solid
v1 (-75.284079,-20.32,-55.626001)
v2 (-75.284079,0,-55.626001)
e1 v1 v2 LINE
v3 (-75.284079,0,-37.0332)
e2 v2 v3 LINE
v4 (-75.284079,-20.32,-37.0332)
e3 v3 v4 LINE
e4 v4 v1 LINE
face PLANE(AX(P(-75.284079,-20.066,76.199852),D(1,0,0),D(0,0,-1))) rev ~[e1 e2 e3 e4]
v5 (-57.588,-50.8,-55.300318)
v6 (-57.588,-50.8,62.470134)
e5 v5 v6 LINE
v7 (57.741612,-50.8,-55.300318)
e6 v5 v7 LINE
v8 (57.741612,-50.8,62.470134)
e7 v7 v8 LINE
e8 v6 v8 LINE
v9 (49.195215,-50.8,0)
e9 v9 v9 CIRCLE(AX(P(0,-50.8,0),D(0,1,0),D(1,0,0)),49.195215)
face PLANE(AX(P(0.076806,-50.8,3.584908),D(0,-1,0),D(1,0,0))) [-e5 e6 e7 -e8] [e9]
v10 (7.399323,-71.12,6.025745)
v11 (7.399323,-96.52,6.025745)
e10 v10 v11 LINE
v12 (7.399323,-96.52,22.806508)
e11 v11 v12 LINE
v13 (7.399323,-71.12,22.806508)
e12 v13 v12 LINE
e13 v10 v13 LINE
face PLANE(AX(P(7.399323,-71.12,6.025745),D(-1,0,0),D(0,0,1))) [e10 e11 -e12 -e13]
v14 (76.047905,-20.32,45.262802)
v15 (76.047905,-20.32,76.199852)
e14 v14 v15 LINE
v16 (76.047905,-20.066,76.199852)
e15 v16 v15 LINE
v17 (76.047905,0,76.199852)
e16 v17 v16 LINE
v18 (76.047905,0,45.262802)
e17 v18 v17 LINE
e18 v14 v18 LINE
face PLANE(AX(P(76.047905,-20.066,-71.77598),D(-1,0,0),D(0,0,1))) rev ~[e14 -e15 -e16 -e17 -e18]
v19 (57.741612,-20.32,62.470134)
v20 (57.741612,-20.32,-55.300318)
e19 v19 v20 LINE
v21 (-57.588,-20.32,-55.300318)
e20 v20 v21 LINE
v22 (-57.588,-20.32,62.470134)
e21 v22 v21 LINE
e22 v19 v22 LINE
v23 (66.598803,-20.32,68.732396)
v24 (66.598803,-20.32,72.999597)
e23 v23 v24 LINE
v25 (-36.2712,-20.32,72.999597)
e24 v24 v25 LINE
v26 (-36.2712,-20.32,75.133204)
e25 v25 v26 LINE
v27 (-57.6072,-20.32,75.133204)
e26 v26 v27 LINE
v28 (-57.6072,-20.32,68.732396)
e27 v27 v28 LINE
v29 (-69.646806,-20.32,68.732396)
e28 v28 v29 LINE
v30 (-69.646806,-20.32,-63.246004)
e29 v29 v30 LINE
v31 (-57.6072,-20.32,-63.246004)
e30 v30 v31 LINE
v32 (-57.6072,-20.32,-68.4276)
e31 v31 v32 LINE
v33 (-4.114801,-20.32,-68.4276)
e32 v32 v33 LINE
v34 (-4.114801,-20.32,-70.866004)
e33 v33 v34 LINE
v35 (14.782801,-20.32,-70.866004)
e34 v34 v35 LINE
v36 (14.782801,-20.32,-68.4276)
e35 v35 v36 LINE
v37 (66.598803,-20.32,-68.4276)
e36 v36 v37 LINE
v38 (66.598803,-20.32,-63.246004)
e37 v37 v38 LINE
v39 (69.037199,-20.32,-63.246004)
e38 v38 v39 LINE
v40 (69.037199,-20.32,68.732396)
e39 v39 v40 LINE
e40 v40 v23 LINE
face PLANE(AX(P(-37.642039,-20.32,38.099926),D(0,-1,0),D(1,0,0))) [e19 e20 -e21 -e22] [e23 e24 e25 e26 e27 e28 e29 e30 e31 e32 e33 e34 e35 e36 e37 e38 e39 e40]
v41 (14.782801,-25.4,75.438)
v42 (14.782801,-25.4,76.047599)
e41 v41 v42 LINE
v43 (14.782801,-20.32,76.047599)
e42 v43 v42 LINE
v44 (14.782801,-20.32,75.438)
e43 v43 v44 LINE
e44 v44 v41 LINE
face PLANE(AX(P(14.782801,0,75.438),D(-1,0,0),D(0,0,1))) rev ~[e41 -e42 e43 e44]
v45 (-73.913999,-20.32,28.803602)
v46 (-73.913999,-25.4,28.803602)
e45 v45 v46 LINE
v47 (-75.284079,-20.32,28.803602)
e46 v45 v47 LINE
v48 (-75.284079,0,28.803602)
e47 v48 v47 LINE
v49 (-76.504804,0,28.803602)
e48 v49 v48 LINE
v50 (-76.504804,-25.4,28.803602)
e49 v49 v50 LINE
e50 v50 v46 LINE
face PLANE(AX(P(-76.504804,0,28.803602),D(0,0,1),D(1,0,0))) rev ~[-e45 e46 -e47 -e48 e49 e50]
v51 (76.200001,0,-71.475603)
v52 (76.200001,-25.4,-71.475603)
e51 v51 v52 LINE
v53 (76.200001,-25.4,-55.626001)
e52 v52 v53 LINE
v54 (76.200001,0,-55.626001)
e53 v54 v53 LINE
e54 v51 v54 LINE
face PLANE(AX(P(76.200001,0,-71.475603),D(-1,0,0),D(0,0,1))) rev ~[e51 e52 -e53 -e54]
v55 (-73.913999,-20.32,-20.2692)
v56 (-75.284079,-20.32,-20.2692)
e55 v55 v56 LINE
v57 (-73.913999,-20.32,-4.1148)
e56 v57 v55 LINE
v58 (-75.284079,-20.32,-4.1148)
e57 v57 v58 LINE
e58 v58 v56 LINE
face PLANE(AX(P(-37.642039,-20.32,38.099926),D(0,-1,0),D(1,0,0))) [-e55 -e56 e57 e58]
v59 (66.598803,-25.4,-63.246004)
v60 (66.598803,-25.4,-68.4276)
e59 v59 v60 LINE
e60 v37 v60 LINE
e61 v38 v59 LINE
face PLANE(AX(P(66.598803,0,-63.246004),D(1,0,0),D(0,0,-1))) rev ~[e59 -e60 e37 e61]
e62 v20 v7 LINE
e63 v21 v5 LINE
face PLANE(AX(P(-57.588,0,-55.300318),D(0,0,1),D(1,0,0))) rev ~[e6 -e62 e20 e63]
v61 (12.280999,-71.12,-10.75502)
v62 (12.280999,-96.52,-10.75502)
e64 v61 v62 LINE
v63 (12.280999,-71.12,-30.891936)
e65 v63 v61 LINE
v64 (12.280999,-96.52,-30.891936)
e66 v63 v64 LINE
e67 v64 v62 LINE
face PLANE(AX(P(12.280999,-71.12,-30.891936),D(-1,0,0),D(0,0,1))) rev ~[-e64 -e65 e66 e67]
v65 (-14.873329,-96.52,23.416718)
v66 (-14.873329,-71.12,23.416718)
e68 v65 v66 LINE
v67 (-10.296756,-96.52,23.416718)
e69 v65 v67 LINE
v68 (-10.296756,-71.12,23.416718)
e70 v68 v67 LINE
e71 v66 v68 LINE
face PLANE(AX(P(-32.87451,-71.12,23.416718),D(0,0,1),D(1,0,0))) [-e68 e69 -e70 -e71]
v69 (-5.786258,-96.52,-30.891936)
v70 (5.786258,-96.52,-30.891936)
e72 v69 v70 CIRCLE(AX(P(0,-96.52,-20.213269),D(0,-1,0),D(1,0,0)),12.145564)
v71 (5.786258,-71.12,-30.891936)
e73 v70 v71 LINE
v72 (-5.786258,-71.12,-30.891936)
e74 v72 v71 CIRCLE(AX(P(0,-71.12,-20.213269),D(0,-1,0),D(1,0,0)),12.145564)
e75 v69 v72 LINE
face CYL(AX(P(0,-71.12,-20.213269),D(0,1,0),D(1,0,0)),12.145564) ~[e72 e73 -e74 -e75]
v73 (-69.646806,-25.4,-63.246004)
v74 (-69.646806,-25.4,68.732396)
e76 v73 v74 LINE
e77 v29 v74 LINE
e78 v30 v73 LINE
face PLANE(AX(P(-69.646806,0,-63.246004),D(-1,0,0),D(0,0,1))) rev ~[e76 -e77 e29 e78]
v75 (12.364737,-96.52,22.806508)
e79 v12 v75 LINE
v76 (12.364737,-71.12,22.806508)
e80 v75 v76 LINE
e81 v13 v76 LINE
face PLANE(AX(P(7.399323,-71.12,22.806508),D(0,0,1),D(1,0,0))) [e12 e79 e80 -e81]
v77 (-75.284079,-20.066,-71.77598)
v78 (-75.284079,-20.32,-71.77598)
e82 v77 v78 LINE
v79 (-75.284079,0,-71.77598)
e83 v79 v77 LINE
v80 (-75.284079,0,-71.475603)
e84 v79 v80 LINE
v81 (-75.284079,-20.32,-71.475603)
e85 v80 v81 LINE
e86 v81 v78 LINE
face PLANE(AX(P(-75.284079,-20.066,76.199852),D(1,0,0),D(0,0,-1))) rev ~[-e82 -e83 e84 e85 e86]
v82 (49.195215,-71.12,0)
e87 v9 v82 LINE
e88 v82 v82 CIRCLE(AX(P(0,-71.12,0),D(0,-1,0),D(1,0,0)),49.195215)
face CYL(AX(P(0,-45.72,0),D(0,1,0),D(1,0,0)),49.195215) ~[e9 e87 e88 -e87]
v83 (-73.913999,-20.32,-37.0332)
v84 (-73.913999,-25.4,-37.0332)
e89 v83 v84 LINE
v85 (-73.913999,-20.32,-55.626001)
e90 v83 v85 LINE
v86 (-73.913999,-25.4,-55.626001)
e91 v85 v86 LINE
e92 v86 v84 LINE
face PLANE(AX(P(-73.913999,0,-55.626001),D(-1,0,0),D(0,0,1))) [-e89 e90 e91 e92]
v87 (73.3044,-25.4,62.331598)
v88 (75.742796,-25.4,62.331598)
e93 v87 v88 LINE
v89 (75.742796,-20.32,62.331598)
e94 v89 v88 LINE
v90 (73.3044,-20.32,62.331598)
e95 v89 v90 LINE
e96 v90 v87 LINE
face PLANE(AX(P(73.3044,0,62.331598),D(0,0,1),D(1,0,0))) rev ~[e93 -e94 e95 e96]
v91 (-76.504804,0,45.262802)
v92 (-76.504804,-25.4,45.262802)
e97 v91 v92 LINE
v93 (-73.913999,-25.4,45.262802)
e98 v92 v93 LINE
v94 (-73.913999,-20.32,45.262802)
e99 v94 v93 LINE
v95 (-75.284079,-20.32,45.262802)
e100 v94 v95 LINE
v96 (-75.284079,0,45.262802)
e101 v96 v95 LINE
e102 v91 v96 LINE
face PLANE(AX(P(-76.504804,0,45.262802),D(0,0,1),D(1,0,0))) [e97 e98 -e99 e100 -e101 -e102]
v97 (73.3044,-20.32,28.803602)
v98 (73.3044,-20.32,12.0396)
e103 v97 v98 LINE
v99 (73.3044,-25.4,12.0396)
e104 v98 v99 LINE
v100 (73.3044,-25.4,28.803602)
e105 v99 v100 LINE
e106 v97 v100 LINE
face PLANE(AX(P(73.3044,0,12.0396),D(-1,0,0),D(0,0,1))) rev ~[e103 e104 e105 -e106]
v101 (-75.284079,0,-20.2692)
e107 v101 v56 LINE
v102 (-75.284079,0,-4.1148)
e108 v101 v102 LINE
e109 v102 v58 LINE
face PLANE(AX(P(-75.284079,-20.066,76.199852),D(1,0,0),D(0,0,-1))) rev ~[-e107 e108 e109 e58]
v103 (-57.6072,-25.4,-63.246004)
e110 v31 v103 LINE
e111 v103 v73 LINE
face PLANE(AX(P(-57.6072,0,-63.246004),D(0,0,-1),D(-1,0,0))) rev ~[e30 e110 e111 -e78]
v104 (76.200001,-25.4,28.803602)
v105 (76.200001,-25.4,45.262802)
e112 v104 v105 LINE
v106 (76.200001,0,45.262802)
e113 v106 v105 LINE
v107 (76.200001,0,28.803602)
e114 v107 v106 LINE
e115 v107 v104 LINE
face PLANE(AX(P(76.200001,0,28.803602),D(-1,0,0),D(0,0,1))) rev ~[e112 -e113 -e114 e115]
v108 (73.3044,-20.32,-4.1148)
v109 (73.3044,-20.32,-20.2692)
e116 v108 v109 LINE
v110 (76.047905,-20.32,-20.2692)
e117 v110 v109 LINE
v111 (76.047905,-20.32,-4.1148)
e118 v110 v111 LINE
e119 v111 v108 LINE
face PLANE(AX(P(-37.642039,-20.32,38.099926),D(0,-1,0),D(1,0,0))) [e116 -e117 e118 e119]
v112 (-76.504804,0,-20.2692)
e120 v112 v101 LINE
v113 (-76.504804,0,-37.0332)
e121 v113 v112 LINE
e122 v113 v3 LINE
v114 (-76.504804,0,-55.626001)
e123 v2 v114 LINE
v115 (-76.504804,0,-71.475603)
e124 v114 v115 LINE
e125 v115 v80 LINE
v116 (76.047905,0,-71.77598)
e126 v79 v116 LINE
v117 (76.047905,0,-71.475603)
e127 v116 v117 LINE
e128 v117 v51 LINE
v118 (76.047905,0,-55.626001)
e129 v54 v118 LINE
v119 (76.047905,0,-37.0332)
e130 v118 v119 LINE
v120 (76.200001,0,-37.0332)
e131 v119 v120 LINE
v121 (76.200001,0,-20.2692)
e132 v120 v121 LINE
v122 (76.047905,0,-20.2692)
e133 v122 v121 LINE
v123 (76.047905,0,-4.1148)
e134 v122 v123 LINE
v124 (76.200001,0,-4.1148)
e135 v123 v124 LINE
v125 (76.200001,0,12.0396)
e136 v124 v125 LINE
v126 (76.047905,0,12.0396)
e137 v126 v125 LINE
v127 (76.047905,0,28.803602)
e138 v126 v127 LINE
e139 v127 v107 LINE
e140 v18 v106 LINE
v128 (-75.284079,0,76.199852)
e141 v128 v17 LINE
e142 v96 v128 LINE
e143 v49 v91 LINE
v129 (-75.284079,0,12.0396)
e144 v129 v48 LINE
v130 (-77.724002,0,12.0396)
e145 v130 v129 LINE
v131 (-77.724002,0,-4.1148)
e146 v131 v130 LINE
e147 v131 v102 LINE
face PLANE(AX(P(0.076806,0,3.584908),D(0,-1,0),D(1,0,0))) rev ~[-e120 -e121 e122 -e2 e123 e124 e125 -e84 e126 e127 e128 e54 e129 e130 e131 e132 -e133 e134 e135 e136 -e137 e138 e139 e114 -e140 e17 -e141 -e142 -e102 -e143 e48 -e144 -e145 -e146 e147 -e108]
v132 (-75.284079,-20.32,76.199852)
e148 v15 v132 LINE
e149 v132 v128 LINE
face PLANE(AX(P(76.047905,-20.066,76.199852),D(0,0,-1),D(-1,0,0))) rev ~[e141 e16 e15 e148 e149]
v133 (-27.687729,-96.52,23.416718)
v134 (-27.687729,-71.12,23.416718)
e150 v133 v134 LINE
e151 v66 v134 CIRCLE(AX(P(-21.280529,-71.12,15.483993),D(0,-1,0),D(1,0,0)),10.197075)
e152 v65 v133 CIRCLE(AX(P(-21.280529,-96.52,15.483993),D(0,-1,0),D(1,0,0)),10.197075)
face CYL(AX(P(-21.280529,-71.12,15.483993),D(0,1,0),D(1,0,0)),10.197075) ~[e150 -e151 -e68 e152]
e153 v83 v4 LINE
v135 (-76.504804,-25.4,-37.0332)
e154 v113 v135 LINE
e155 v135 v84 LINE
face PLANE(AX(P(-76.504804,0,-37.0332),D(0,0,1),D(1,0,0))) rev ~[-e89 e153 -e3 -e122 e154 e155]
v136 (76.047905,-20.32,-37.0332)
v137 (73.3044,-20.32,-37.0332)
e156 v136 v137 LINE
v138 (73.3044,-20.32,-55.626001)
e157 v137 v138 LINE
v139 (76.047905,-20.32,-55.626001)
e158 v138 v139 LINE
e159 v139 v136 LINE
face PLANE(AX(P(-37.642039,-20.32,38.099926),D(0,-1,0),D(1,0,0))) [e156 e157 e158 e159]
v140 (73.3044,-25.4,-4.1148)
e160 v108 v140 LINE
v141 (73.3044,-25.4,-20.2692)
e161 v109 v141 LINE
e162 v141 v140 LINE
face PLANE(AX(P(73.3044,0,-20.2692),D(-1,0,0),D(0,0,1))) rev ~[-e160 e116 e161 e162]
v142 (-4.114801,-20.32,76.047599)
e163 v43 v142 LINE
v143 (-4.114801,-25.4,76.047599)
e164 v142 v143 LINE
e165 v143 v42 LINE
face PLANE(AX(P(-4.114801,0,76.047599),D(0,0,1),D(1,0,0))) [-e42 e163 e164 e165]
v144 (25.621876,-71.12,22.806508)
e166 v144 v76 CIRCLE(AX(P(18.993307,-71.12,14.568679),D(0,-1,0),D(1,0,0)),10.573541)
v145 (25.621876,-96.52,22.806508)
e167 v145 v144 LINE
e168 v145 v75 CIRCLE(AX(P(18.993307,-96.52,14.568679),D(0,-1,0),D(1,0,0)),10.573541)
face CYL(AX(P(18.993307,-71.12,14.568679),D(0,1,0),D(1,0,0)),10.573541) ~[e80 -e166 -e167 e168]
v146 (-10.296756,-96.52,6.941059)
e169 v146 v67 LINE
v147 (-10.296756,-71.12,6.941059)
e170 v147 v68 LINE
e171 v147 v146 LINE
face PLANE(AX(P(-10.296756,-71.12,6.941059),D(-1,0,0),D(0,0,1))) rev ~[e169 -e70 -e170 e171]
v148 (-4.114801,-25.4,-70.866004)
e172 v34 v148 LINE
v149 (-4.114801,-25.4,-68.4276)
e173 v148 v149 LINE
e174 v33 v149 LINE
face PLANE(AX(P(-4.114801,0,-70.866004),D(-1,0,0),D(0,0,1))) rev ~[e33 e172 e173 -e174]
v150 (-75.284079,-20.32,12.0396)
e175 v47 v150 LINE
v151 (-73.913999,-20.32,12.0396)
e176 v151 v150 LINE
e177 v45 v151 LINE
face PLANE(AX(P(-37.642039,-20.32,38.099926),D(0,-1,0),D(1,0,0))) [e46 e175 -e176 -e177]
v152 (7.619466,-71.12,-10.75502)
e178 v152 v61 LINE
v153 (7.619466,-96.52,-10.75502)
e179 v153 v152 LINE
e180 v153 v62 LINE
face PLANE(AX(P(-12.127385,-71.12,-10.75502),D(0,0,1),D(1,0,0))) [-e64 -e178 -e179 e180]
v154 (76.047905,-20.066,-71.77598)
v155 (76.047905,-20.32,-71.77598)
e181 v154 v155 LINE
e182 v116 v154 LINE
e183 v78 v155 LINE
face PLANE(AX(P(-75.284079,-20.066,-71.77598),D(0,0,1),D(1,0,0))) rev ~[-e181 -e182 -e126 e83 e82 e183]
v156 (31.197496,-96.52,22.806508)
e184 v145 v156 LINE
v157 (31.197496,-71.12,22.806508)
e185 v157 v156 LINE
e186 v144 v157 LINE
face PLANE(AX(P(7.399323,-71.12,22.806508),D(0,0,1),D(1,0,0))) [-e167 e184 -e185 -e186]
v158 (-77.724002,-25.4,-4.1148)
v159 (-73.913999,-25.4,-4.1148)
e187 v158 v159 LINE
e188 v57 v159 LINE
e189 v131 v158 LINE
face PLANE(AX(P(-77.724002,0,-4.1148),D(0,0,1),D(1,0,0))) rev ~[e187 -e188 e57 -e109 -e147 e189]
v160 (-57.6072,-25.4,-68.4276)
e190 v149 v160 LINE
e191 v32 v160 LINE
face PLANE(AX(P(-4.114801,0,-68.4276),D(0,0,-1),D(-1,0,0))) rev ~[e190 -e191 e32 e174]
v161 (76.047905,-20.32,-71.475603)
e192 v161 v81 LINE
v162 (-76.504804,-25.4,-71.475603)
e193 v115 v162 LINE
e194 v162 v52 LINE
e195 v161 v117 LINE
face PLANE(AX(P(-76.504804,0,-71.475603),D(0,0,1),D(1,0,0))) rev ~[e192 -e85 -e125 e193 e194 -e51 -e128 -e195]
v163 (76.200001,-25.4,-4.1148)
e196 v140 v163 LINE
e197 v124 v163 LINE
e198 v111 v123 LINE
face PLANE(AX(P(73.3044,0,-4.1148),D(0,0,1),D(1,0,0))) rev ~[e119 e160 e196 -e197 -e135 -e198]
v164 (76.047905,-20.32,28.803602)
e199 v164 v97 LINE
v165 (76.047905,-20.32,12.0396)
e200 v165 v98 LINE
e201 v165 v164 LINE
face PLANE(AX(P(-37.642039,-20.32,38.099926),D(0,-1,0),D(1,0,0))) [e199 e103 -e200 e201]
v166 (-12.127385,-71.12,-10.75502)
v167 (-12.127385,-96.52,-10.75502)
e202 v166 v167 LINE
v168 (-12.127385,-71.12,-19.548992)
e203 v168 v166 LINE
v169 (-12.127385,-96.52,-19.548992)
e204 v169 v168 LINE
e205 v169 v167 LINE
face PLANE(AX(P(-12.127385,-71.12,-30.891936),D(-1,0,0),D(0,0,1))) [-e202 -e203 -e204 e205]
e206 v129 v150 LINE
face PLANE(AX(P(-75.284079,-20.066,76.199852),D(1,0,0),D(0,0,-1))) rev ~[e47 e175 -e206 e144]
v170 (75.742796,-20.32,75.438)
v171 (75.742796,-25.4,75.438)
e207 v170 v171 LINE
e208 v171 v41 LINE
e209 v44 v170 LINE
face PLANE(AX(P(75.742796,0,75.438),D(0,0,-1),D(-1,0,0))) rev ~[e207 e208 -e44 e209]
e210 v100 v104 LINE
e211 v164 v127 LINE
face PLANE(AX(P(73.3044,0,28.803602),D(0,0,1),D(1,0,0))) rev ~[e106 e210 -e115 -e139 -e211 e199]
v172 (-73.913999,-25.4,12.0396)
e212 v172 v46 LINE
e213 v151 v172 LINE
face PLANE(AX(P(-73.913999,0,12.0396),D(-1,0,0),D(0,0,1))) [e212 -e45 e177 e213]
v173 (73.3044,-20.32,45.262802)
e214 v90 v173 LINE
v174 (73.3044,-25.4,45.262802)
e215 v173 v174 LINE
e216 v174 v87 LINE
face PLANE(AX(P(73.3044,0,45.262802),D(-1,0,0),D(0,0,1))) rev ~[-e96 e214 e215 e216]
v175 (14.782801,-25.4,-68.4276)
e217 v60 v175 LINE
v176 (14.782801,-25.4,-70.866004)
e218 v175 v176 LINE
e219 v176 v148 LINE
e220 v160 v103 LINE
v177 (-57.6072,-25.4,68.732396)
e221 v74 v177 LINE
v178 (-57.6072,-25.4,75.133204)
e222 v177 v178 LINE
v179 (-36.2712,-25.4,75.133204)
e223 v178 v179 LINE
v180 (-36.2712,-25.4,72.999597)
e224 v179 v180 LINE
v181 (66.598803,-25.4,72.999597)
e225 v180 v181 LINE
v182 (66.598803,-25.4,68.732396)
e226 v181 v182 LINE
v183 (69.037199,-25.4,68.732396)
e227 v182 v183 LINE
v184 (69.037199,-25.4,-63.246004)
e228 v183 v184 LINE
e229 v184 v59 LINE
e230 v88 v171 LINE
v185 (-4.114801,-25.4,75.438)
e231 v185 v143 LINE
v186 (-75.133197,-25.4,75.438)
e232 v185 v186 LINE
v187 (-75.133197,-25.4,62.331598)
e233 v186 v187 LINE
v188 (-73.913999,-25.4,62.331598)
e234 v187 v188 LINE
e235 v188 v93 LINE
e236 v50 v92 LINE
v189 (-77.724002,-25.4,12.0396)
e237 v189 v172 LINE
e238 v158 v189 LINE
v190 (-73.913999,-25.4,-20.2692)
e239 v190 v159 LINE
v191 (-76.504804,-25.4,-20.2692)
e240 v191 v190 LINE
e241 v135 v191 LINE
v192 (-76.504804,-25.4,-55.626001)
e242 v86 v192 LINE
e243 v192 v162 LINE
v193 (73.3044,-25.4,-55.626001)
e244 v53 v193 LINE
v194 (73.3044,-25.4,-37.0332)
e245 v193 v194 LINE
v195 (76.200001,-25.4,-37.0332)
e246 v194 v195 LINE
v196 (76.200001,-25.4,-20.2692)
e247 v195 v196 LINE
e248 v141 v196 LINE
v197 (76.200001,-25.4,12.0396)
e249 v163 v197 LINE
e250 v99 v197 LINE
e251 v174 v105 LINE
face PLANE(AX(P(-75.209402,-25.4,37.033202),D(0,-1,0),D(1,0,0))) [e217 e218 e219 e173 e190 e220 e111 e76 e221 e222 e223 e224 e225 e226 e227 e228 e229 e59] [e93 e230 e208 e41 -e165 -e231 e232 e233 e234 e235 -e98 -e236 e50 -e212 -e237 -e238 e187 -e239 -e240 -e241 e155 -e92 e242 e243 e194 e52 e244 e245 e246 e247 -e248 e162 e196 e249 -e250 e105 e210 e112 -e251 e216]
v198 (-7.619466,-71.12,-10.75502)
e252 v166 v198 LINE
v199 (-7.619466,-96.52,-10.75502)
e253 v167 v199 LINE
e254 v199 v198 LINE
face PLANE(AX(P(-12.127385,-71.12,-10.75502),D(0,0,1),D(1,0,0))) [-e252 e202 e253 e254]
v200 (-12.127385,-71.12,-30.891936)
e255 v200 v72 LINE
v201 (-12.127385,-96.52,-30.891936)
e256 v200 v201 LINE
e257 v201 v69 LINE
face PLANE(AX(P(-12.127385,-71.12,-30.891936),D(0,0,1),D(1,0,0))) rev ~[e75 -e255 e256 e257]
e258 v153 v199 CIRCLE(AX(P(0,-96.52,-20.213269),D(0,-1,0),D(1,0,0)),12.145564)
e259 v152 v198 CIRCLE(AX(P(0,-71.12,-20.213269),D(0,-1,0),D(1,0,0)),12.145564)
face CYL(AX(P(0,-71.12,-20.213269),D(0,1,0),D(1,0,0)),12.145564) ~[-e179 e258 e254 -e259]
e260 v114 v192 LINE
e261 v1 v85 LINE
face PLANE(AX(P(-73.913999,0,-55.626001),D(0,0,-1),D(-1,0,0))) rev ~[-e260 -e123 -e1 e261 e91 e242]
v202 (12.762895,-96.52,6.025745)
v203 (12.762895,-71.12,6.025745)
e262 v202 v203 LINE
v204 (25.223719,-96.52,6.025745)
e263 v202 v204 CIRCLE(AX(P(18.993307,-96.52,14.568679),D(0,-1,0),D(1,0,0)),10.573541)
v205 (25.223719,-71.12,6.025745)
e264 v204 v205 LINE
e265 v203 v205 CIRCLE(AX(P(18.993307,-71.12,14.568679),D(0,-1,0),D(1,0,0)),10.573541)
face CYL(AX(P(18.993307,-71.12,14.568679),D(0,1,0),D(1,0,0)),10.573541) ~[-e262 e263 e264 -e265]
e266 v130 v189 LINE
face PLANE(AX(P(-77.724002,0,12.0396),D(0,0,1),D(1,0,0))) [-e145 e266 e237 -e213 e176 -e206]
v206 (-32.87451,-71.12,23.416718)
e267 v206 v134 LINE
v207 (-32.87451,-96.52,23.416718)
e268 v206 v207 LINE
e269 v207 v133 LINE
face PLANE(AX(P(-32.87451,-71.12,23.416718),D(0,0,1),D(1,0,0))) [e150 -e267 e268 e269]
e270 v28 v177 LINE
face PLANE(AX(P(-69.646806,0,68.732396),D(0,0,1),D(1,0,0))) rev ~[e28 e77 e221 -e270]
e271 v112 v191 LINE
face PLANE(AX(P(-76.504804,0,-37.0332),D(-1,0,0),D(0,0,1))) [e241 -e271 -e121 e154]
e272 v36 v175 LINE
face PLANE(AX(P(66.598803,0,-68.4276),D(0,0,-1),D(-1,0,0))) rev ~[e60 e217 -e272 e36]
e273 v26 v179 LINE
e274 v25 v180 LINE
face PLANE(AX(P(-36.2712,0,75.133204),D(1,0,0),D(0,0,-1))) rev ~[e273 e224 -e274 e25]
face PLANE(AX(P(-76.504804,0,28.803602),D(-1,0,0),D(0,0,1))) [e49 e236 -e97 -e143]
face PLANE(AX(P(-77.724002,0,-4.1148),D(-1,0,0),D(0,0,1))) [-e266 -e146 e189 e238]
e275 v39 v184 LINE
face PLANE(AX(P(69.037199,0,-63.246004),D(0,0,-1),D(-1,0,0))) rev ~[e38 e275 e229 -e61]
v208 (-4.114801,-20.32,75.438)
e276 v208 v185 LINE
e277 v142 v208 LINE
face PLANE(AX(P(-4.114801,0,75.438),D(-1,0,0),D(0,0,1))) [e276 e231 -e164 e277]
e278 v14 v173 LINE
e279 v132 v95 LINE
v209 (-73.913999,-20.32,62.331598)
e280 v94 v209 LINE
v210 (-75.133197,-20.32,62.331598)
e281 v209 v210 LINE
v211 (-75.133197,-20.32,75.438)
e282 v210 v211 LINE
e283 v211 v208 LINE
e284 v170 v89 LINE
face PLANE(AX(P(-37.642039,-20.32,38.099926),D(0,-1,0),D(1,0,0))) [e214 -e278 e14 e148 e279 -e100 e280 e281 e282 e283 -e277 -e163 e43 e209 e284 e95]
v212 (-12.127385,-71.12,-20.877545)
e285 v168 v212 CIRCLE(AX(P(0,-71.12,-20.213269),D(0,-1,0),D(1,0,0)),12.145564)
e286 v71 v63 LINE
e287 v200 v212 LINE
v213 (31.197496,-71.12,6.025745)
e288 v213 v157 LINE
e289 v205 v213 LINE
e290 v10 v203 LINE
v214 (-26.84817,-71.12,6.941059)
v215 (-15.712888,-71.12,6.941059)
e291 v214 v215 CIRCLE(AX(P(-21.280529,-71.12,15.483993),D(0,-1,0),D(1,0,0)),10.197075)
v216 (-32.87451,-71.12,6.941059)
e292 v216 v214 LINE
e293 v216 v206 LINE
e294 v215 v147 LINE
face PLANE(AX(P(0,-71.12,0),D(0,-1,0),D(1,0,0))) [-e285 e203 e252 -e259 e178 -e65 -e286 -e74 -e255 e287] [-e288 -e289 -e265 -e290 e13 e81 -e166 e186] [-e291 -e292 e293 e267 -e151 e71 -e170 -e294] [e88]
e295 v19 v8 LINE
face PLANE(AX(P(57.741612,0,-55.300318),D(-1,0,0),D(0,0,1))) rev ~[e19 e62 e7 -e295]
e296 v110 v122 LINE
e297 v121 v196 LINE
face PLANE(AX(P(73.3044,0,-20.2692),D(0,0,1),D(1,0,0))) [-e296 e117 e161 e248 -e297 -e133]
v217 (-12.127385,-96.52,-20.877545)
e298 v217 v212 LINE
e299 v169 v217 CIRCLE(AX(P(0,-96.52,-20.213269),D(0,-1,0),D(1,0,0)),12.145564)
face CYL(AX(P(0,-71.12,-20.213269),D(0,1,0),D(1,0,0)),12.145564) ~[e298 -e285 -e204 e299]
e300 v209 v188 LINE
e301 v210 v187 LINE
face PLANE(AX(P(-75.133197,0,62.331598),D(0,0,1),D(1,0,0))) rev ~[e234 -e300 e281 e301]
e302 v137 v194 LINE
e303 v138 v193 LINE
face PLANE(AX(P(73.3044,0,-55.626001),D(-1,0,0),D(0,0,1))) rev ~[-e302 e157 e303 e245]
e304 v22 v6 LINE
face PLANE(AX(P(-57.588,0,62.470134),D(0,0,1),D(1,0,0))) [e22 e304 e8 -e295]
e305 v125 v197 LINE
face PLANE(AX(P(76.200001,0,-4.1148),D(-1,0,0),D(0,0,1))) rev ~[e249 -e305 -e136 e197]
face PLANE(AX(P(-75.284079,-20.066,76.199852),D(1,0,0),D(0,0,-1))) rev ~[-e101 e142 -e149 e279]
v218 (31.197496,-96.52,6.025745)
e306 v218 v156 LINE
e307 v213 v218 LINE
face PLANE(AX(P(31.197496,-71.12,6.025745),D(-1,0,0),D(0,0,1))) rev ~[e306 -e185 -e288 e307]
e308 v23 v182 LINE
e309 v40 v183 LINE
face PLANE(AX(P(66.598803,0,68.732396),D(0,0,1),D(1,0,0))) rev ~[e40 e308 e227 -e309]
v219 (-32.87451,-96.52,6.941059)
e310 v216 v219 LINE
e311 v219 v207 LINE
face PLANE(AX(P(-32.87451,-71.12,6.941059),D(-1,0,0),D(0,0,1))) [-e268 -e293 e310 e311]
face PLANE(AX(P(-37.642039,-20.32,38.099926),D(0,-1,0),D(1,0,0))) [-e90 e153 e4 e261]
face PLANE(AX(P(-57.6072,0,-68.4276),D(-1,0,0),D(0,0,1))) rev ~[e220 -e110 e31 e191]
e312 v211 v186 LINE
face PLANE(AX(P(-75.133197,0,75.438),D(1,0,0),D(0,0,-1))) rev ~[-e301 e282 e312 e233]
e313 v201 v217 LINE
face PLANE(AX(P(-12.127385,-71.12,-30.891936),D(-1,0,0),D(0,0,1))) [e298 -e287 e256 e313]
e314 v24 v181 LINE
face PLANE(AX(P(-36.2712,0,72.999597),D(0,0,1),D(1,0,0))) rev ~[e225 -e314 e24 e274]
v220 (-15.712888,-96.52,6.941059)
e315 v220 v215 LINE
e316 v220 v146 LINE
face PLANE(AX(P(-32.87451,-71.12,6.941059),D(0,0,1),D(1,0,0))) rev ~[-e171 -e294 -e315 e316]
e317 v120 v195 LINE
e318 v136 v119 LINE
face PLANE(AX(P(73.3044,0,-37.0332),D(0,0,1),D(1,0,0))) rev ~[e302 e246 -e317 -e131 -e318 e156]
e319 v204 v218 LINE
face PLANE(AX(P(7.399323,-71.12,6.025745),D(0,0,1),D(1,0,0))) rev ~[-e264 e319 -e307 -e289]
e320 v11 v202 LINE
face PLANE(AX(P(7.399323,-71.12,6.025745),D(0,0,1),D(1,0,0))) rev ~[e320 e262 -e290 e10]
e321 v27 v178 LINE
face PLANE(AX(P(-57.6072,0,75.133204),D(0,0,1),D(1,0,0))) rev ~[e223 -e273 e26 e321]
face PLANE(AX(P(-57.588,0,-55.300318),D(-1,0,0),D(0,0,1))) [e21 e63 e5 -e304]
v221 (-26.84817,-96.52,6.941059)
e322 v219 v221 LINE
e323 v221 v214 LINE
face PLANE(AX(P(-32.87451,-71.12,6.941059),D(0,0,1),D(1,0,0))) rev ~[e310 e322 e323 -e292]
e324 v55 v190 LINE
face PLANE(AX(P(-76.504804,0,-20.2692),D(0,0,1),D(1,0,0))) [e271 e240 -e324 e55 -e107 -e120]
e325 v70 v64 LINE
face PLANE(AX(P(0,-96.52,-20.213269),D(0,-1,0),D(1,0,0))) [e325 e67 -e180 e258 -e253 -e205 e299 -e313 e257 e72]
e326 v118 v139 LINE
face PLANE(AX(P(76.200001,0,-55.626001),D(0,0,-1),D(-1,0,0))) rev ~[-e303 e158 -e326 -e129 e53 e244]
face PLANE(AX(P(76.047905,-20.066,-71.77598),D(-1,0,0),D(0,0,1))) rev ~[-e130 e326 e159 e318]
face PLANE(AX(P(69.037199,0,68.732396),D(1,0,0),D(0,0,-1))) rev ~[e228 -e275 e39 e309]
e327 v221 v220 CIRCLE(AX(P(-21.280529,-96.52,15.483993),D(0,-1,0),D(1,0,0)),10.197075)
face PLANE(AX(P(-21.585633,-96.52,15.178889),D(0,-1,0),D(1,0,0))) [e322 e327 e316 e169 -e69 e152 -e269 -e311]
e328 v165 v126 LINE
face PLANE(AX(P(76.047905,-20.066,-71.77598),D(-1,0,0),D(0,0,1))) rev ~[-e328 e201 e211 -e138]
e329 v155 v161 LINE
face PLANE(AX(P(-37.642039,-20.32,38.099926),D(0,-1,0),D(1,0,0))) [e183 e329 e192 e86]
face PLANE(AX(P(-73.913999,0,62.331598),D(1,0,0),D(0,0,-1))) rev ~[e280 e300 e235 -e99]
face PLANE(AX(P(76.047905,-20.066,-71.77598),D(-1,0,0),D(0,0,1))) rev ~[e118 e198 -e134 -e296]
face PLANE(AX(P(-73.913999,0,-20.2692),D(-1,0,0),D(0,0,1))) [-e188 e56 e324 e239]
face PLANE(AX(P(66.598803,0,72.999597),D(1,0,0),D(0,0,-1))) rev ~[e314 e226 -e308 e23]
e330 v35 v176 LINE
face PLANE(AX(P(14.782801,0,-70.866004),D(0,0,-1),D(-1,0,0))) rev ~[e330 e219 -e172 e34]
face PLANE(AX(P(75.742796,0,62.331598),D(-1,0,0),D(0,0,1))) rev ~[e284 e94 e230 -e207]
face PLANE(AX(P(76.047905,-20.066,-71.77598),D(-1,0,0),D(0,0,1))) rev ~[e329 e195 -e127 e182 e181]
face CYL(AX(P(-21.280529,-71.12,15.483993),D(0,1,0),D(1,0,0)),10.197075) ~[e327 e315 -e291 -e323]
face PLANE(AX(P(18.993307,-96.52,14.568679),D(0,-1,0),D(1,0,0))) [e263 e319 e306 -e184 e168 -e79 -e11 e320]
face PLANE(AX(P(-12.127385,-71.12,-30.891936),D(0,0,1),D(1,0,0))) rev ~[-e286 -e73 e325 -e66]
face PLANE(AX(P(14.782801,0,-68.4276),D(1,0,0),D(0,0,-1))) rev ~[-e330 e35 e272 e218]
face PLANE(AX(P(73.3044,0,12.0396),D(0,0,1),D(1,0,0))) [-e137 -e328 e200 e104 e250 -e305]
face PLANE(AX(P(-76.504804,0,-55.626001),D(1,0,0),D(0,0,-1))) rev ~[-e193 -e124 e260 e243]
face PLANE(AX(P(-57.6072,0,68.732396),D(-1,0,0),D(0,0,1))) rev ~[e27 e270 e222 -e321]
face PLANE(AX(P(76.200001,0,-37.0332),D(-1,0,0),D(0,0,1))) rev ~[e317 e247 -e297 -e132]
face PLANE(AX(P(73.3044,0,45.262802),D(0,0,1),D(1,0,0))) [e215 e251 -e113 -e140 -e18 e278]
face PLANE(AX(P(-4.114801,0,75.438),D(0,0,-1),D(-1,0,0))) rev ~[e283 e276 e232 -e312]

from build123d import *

# Parameters (mm, degrees)
F1_W      = 151.3319835067
F1_H      = 147.9758322239
F2_DEPTH  = 20.066
F3_W      = 75.2840787172
F3_H      = 76.1998519301
F3_H_2    = 71.7759802938
F3_W_2    = 76.0479047894
F4_DEPTH  = 0.254
F5_R      = 49.1952148829
F6_DEPTH  = 25.4
F7_R      = 49.1952148829
F8_DEPTH  = 25.4
F10_R     = 3.1853850864
F10_R_2   = 3.4787314223
F10_R_3   = 3.5581054838
F10_R_4   = 2.8783548202
F10_R_5   = 2.4598319218
F10_R_6   = 3.3699911713
F10_R_7   = 3.478728155
F10_R_8   = 3.1114703305
F10_R_9   = 3.1412466135
F10_R_10  = 3.2433066159
F10_R_11  = 3.5711592921
F10_R_12  = 2.6246103999
F10_R_13  = 3.3699920988
F10_R_14  = 3.4787300337
F10_R_15  = 3.4787284
F10_R_16  = 3.4111759436
F10_R_17  = 2.7289404217
F10_R_18  = 3.3002128489
F10_R_19  = 4.0130328481
F10_R_20  = 3.4787270114
F11_DEPTH = 25.4
F0_W      = 2.5908052921
F0_H      = 16.4592005312
F0_W_2    = 4.267193377
F0_H_2    = 17.0687958598
F0_H_3    = 16.7640019208
F0_W_3    = 3.8100033998
F0_H_4    = 16.154400073
F0_W_4    = 18.8976023346
F0_H_5    = 2.438403666
F0_H_6    = 0.6095990539
F0_H_7    = 16.7640000582
F0_W_5    = 34.7471982241
F0_H_8    = 18.592800945
F0_W_6    = 17.0688033104
F0_W_7    = 4.2672008276
F0_W_8    = 21.3360004127
F0_H_9    = 3.0480027199
F0_W_9    = 2.8956010938
F12_DEPTH = 25.4
F13_W     = 115.3296120465
F13_H     = 117.7704520524
F14_DEPTH = 50.8
F15_R     = 10.1970754687
F15_R_2   = 10.573540908
F15_R_3   = 12.1455637772
F16_DEPTH = 25.4
F17_W     = 22.5777532905
F17_H     = 16.4756593294
F17_W_2   = 23.7981723621
F17_H_2   = 16.7807638645
F17_W_3   = 24.4083832949
F17_H_3   = 20.1369160786
F18_DEPTH = 25.4


with BuildPart() as f2:
    # F1 (on Front) → F2 (new body)
    with BuildSketch(Plane.XZ):
        with Locations((0.3819130361, 2.2119358182)):
            Rectangle(F1_W, F1_H)
    extrude(amount=F2_DEPTH)

    # F3 (on face) → F4 (join)
    with BuildSketch(Plane.XZ.offset(20.066)):
        with Locations((-37.6420393586, 38.0999259651)):
            Rectangle(F3_W, F3_H)
        with Locations((-37.6420393586, -35.8879901469)):
            Rectangle(F3_W, F3_H_2)
        with Locations((38.0239523947, -35.8879901469)):
            Rectangle(F3_W_2, F3_H_2)
        with Locations((38.0239523947, 38.0999259651)):
            Rectangle(F3_W_2, F3_H)
    extrude(amount=F4_DEPTH)

    # F5 (on face) → F6 (join)
    with BuildSketch(Plane.XZ.offset(20.32)):
        Circle(F5_R)
    extrude(amount=F6_DEPTH)

    # F7 (on face) → F8 (join)
    with BuildSketch(Plane.XZ.offset(45.72)):
        Circle(F7_R)
    extrude(amount=F8_DEPTH)

    # F10 (on Front) → F11 (join)
    with BuildSketch(Plane.XZ):
        with Locations((45.2323183417, 56.9782480597)):
            Circle(F10_R)
        with Locations((18.0779919028, 56.6731393337)):
            Circle(F10_R_2)
        with Locations((-8.771231398, 56.6731393337)):
            Circle(F10_R_3)
        with Locations((-31.6540896893, 56.6731393337)):
            Circle(F10_R_4)
        with Locations((-49.3501722813, 56.6731393337)):
            Circle(F10_R_5)
        with Locations((45.8425283432, 20.0605653226)):
            Circle(F10_R_6)
        with Locations((18.0779919028, 19.1452521831)):
            Circle(F10_R_7)
        with Locations((-8.1610223278, 20.0605653226)):
            Circle(F10_R_8)
        with Locations((-28.9081465453, 19.1452521831)):
            Circle(F10_R_9)
        with Locations((-52.4012185633, 18.2299371809)):
            Circle(F10_R_10)
        with Locations((46.4527383447, -12.8907542676)):
            Circle(F10_R_11)
        with Locations((19.6035150439, -12.5856492668)):
            Circle(F10_R_12)
        with Locations((-8.4661273286, -12.5856492668)):
            Circle(F10_R_13)
        with Locations((-31.0438796878, -13.1958574057)):
            Circle(F10_R_14)
        with Locations((-52.4012185633, -12.2805442661)):
            Circle(F10_R_15)
        with Locations((46.4527383447, -45.8420701325)):
            Circle(F10_R_16)
        with Locations((20.5188300461, -45.536968857)):
            Circle(F10_R_17)
        with Locations((-10.2967554703, -46.75738886)):
            Circle(F10_R_18)
        with Locations((-31.6540896893, -47.0624901354)):
            Circle(F10_R_19)
        with Locations((-52.4012185633, -47.3675951362)):
            Circle(F10_R_20)
    extrude(amount=F11_DEPTH)

    # F0 (on Front) → F12 (join)
    with BuildSketch(Plane.XZ):
        with Locations((-75.2094015479, 37.0332021266)):
            Rectangle(F0_W, F0_H)
        with Locations((-71.7804022133, 53.7972003222)):
            Rectangle(F0_W_2, F0_H_2)
        with Locations((-71.7804022133, 37.0332021266)):
            Rectangle(F0_W_2, F0_H)
        Polygon((-73.9139989018, 72.9995965958), (-73.9139989018, 62.3315982521), (-69.6468055248, 62.3315982521), (-69.6468055248, 68.7323957682), (-57.6071999967, 68.7323957682), (-57.6071999967, 72.9995965958), align=None)
        Polygon((-75.1331970096, 62.3315982521), (-73.9139989018, 62.3315982521), (-73.9139989018, 72.9995965958), (-57.6071999967, 72.9995965958), (-57.6071999967, 75.1332044601), (-36.271199584, 75.1332044601), (-36.271199584, 72.9995965958), (-4.1148010641, 72.9995965958), (-4.1148010641, 75.4380002618), (-75.1331970096, 75.4380002618), align=None)
        with Locations((-71.7804022133, 20.4216009006)):
            Rectangle(F0_W_2, F0_H_3)
        with Locations((-75.8190006018, 3.9623999037)):
            Rectangle(F0_W_3, F0_H_4)
        with Locations((-71.7804022133, 3.9623999037)):
            Rectangle(F0_W_2, F0_H_4)
        with Locations((-71.7804022133, -12.1920001693)):
            Rectangle(F0_W_2, F0_H_4)
        with Locations((5.3340001032, 74.2187984288)):
            Rectangle(F0_W_4, F0_H_5)
        with Locations((5.3340001032, 75.7427997887)):
            Rectangle(F0_W_4, F0_H_6)
        with Locations((-75.2094015479, -28.6512002349)):
            Rectangle(F0_W, F0_H_7)
        with Locations((-71.7804022133, -28.6512002349)):
            Rectangle(F0_W_2, F0_H_7)
        with Locations((32.1564003825, 74.2187984288)):
            Rectangle(F0_W_5, F0_H_5)
        with Locations((-71.7804022133, -46.3296007365)):
            Rectangle(F0_W_2, F0_H_8)
        with Locations((58.0644011497, 74.2187984288)):
            Rectangle(F0_W_6, F0_H_5)
        Polygon((-73.9139989018, -68.4275999665), (-73.9139989018, -55.626001209), (-76.504804194, -55.626001209), (-76.504804194, -71.4756026864), (-57.6071999967, -71.4756026864), (-57.6071999967, -68.4275999665), align=None)
        Polygon((-69.6468055248, -55.626001209), (-73.9139989018, -55.626001209), (-73.9139989018, -68.4275999665), (-57.6071999967, -68.4275999665), (-57.6071999967, -63.2460042834), (-69.6468055248, -63.2460042834), align=None)
        Polygon((75.7427960634, 75.4380002618), (66.5988028049, 75.4380002618), (66.5988028049, 72.9995965958), (73.304399848, 72.9995965958), (73.304399848, 62.3315982521), (75.7427960634, 62.3315982521), align=None)
        with Locations((71.1707994342, 53.7972003222)):
            Rectangle(F0_W_7, F0_H_2)
        with Locations((71.1707994342, 37.0332021266)):
            Rectangle(F0_W_7, F0_H)
        Polygon((73.304399848, 72.9995965958), (66.5988028049, 72.9995965958), (66.5988028049, 68.7323957682), (69.0371990204, 68.7323957682), (69.0371990204, 62.3315982521), (73.304399848, 62.3315982521), align=None)
        with Locations((-46.9391997904, -69.9516013265)):
            Rectangle(F0_W_8, F0_H_9)
        with Locations((74.7522003949, 37.0332021266)):
            Rectangle(F0_W_9, F0_H)
        with Locations((71.1707994342, 20.4216009006)):
            Rectangle(F0_W_7, F0_H_3)
        Polygon((-4.1148010641, -68.4275999665), (-36.271199584, -68.4275999665), (-36.271199584, -71.4756026864), (49.5299994946, -71.4756026864), (49.5299994946, -68.4275999665), (14.7828012705, -68.4275999665), (14.7828012705, -70.8660036325), (-4.1148010641, -70.8660036325), align=None)
        with Locations((71.1707994342, 3.9623999037)):
            Rectangle(F0_W_7, F0_H_4)
        with Locations((74.7522003949, 3.9623999037)):
            Rectangle(F0_W_9, F0_H_4)
        with Locations((71.1707994342, -12.1920001693)):
            Rectangle(F0_W_7, F0_H_4)
        with Locations((58.0644011497, -69.9516013265)):
            Rectangle(F0_W_6, F0_H_9)
        with Locations((71.1707994342, -28.6512002349)):
            Rectangle(F0_W_7, F0_H_7)
        Polygon((66.5988028049, -68.4275999665), (66.5988028049, -71.4756026864), (76.2000009418, -71.4756026864), (76.2000009418, -55.626001209), (73.304399848, -55.626001209), (73.304399848, -68.4275999665), align=None)
        with Locations((74.7522003949, -28.6512002349)):
            Rectangle(F0_W_9, F0_H_7)
        with Locations((71.1707994342, -46.3296007365)):
            Rectangle(F0_W_7, F0_H_8)
        Polygon((66.5988028049, -63.2460042834), (66.5988028049, -68.4275999665), (73.304399848, -68.4275999665), (73.304399848, -55.626001209), (69.0371990204, -55.626001209), (69.0371990204, -63.2460042834), align=None)
    extrude(amount=F12_DEPTH)

    # F13 (on Front) → F14 (join)
    with BuildSketch(Plane.XZ):
        with Locations((0.0768061727, 3.5849083215)):
            Rectangle(F13_W, F13_H)
    extrude(amount=F14_DEPTH)

    # F15 (on face) → F16 (join)
    with BuildSketch(Plane.XZ.offset(71.12)):
        with Locations((-21.2805289775, 15.4839931056)):
            Circle(F15_R)
        with Locations((18.993306905, 14.5686790347)):
            Circle(F15_R_2)
        with Locations((0, -20.2132686973)):
            Circle(F15_R_3)
    extrude(amount=F16_DEPTH)

    # F17 (on face) → F18 (join)
    with BuildSketch(Plane.XZ.offset(71.12)):
        with Locations((-21.5856330469, 15.1788888033)):
            Rectangle(F17_W, F17_H)
        with Locations((19.2984095775, 14.4161265343)):
            Rectangle(F17_W_2, F17_H_2)
        with Locations((0.0768071041, -20.8234782331)):
            Rectangle(F17_W_3, F17_H_3)
    extrude(amount=F18_DEPTH)


solid = f2.part
